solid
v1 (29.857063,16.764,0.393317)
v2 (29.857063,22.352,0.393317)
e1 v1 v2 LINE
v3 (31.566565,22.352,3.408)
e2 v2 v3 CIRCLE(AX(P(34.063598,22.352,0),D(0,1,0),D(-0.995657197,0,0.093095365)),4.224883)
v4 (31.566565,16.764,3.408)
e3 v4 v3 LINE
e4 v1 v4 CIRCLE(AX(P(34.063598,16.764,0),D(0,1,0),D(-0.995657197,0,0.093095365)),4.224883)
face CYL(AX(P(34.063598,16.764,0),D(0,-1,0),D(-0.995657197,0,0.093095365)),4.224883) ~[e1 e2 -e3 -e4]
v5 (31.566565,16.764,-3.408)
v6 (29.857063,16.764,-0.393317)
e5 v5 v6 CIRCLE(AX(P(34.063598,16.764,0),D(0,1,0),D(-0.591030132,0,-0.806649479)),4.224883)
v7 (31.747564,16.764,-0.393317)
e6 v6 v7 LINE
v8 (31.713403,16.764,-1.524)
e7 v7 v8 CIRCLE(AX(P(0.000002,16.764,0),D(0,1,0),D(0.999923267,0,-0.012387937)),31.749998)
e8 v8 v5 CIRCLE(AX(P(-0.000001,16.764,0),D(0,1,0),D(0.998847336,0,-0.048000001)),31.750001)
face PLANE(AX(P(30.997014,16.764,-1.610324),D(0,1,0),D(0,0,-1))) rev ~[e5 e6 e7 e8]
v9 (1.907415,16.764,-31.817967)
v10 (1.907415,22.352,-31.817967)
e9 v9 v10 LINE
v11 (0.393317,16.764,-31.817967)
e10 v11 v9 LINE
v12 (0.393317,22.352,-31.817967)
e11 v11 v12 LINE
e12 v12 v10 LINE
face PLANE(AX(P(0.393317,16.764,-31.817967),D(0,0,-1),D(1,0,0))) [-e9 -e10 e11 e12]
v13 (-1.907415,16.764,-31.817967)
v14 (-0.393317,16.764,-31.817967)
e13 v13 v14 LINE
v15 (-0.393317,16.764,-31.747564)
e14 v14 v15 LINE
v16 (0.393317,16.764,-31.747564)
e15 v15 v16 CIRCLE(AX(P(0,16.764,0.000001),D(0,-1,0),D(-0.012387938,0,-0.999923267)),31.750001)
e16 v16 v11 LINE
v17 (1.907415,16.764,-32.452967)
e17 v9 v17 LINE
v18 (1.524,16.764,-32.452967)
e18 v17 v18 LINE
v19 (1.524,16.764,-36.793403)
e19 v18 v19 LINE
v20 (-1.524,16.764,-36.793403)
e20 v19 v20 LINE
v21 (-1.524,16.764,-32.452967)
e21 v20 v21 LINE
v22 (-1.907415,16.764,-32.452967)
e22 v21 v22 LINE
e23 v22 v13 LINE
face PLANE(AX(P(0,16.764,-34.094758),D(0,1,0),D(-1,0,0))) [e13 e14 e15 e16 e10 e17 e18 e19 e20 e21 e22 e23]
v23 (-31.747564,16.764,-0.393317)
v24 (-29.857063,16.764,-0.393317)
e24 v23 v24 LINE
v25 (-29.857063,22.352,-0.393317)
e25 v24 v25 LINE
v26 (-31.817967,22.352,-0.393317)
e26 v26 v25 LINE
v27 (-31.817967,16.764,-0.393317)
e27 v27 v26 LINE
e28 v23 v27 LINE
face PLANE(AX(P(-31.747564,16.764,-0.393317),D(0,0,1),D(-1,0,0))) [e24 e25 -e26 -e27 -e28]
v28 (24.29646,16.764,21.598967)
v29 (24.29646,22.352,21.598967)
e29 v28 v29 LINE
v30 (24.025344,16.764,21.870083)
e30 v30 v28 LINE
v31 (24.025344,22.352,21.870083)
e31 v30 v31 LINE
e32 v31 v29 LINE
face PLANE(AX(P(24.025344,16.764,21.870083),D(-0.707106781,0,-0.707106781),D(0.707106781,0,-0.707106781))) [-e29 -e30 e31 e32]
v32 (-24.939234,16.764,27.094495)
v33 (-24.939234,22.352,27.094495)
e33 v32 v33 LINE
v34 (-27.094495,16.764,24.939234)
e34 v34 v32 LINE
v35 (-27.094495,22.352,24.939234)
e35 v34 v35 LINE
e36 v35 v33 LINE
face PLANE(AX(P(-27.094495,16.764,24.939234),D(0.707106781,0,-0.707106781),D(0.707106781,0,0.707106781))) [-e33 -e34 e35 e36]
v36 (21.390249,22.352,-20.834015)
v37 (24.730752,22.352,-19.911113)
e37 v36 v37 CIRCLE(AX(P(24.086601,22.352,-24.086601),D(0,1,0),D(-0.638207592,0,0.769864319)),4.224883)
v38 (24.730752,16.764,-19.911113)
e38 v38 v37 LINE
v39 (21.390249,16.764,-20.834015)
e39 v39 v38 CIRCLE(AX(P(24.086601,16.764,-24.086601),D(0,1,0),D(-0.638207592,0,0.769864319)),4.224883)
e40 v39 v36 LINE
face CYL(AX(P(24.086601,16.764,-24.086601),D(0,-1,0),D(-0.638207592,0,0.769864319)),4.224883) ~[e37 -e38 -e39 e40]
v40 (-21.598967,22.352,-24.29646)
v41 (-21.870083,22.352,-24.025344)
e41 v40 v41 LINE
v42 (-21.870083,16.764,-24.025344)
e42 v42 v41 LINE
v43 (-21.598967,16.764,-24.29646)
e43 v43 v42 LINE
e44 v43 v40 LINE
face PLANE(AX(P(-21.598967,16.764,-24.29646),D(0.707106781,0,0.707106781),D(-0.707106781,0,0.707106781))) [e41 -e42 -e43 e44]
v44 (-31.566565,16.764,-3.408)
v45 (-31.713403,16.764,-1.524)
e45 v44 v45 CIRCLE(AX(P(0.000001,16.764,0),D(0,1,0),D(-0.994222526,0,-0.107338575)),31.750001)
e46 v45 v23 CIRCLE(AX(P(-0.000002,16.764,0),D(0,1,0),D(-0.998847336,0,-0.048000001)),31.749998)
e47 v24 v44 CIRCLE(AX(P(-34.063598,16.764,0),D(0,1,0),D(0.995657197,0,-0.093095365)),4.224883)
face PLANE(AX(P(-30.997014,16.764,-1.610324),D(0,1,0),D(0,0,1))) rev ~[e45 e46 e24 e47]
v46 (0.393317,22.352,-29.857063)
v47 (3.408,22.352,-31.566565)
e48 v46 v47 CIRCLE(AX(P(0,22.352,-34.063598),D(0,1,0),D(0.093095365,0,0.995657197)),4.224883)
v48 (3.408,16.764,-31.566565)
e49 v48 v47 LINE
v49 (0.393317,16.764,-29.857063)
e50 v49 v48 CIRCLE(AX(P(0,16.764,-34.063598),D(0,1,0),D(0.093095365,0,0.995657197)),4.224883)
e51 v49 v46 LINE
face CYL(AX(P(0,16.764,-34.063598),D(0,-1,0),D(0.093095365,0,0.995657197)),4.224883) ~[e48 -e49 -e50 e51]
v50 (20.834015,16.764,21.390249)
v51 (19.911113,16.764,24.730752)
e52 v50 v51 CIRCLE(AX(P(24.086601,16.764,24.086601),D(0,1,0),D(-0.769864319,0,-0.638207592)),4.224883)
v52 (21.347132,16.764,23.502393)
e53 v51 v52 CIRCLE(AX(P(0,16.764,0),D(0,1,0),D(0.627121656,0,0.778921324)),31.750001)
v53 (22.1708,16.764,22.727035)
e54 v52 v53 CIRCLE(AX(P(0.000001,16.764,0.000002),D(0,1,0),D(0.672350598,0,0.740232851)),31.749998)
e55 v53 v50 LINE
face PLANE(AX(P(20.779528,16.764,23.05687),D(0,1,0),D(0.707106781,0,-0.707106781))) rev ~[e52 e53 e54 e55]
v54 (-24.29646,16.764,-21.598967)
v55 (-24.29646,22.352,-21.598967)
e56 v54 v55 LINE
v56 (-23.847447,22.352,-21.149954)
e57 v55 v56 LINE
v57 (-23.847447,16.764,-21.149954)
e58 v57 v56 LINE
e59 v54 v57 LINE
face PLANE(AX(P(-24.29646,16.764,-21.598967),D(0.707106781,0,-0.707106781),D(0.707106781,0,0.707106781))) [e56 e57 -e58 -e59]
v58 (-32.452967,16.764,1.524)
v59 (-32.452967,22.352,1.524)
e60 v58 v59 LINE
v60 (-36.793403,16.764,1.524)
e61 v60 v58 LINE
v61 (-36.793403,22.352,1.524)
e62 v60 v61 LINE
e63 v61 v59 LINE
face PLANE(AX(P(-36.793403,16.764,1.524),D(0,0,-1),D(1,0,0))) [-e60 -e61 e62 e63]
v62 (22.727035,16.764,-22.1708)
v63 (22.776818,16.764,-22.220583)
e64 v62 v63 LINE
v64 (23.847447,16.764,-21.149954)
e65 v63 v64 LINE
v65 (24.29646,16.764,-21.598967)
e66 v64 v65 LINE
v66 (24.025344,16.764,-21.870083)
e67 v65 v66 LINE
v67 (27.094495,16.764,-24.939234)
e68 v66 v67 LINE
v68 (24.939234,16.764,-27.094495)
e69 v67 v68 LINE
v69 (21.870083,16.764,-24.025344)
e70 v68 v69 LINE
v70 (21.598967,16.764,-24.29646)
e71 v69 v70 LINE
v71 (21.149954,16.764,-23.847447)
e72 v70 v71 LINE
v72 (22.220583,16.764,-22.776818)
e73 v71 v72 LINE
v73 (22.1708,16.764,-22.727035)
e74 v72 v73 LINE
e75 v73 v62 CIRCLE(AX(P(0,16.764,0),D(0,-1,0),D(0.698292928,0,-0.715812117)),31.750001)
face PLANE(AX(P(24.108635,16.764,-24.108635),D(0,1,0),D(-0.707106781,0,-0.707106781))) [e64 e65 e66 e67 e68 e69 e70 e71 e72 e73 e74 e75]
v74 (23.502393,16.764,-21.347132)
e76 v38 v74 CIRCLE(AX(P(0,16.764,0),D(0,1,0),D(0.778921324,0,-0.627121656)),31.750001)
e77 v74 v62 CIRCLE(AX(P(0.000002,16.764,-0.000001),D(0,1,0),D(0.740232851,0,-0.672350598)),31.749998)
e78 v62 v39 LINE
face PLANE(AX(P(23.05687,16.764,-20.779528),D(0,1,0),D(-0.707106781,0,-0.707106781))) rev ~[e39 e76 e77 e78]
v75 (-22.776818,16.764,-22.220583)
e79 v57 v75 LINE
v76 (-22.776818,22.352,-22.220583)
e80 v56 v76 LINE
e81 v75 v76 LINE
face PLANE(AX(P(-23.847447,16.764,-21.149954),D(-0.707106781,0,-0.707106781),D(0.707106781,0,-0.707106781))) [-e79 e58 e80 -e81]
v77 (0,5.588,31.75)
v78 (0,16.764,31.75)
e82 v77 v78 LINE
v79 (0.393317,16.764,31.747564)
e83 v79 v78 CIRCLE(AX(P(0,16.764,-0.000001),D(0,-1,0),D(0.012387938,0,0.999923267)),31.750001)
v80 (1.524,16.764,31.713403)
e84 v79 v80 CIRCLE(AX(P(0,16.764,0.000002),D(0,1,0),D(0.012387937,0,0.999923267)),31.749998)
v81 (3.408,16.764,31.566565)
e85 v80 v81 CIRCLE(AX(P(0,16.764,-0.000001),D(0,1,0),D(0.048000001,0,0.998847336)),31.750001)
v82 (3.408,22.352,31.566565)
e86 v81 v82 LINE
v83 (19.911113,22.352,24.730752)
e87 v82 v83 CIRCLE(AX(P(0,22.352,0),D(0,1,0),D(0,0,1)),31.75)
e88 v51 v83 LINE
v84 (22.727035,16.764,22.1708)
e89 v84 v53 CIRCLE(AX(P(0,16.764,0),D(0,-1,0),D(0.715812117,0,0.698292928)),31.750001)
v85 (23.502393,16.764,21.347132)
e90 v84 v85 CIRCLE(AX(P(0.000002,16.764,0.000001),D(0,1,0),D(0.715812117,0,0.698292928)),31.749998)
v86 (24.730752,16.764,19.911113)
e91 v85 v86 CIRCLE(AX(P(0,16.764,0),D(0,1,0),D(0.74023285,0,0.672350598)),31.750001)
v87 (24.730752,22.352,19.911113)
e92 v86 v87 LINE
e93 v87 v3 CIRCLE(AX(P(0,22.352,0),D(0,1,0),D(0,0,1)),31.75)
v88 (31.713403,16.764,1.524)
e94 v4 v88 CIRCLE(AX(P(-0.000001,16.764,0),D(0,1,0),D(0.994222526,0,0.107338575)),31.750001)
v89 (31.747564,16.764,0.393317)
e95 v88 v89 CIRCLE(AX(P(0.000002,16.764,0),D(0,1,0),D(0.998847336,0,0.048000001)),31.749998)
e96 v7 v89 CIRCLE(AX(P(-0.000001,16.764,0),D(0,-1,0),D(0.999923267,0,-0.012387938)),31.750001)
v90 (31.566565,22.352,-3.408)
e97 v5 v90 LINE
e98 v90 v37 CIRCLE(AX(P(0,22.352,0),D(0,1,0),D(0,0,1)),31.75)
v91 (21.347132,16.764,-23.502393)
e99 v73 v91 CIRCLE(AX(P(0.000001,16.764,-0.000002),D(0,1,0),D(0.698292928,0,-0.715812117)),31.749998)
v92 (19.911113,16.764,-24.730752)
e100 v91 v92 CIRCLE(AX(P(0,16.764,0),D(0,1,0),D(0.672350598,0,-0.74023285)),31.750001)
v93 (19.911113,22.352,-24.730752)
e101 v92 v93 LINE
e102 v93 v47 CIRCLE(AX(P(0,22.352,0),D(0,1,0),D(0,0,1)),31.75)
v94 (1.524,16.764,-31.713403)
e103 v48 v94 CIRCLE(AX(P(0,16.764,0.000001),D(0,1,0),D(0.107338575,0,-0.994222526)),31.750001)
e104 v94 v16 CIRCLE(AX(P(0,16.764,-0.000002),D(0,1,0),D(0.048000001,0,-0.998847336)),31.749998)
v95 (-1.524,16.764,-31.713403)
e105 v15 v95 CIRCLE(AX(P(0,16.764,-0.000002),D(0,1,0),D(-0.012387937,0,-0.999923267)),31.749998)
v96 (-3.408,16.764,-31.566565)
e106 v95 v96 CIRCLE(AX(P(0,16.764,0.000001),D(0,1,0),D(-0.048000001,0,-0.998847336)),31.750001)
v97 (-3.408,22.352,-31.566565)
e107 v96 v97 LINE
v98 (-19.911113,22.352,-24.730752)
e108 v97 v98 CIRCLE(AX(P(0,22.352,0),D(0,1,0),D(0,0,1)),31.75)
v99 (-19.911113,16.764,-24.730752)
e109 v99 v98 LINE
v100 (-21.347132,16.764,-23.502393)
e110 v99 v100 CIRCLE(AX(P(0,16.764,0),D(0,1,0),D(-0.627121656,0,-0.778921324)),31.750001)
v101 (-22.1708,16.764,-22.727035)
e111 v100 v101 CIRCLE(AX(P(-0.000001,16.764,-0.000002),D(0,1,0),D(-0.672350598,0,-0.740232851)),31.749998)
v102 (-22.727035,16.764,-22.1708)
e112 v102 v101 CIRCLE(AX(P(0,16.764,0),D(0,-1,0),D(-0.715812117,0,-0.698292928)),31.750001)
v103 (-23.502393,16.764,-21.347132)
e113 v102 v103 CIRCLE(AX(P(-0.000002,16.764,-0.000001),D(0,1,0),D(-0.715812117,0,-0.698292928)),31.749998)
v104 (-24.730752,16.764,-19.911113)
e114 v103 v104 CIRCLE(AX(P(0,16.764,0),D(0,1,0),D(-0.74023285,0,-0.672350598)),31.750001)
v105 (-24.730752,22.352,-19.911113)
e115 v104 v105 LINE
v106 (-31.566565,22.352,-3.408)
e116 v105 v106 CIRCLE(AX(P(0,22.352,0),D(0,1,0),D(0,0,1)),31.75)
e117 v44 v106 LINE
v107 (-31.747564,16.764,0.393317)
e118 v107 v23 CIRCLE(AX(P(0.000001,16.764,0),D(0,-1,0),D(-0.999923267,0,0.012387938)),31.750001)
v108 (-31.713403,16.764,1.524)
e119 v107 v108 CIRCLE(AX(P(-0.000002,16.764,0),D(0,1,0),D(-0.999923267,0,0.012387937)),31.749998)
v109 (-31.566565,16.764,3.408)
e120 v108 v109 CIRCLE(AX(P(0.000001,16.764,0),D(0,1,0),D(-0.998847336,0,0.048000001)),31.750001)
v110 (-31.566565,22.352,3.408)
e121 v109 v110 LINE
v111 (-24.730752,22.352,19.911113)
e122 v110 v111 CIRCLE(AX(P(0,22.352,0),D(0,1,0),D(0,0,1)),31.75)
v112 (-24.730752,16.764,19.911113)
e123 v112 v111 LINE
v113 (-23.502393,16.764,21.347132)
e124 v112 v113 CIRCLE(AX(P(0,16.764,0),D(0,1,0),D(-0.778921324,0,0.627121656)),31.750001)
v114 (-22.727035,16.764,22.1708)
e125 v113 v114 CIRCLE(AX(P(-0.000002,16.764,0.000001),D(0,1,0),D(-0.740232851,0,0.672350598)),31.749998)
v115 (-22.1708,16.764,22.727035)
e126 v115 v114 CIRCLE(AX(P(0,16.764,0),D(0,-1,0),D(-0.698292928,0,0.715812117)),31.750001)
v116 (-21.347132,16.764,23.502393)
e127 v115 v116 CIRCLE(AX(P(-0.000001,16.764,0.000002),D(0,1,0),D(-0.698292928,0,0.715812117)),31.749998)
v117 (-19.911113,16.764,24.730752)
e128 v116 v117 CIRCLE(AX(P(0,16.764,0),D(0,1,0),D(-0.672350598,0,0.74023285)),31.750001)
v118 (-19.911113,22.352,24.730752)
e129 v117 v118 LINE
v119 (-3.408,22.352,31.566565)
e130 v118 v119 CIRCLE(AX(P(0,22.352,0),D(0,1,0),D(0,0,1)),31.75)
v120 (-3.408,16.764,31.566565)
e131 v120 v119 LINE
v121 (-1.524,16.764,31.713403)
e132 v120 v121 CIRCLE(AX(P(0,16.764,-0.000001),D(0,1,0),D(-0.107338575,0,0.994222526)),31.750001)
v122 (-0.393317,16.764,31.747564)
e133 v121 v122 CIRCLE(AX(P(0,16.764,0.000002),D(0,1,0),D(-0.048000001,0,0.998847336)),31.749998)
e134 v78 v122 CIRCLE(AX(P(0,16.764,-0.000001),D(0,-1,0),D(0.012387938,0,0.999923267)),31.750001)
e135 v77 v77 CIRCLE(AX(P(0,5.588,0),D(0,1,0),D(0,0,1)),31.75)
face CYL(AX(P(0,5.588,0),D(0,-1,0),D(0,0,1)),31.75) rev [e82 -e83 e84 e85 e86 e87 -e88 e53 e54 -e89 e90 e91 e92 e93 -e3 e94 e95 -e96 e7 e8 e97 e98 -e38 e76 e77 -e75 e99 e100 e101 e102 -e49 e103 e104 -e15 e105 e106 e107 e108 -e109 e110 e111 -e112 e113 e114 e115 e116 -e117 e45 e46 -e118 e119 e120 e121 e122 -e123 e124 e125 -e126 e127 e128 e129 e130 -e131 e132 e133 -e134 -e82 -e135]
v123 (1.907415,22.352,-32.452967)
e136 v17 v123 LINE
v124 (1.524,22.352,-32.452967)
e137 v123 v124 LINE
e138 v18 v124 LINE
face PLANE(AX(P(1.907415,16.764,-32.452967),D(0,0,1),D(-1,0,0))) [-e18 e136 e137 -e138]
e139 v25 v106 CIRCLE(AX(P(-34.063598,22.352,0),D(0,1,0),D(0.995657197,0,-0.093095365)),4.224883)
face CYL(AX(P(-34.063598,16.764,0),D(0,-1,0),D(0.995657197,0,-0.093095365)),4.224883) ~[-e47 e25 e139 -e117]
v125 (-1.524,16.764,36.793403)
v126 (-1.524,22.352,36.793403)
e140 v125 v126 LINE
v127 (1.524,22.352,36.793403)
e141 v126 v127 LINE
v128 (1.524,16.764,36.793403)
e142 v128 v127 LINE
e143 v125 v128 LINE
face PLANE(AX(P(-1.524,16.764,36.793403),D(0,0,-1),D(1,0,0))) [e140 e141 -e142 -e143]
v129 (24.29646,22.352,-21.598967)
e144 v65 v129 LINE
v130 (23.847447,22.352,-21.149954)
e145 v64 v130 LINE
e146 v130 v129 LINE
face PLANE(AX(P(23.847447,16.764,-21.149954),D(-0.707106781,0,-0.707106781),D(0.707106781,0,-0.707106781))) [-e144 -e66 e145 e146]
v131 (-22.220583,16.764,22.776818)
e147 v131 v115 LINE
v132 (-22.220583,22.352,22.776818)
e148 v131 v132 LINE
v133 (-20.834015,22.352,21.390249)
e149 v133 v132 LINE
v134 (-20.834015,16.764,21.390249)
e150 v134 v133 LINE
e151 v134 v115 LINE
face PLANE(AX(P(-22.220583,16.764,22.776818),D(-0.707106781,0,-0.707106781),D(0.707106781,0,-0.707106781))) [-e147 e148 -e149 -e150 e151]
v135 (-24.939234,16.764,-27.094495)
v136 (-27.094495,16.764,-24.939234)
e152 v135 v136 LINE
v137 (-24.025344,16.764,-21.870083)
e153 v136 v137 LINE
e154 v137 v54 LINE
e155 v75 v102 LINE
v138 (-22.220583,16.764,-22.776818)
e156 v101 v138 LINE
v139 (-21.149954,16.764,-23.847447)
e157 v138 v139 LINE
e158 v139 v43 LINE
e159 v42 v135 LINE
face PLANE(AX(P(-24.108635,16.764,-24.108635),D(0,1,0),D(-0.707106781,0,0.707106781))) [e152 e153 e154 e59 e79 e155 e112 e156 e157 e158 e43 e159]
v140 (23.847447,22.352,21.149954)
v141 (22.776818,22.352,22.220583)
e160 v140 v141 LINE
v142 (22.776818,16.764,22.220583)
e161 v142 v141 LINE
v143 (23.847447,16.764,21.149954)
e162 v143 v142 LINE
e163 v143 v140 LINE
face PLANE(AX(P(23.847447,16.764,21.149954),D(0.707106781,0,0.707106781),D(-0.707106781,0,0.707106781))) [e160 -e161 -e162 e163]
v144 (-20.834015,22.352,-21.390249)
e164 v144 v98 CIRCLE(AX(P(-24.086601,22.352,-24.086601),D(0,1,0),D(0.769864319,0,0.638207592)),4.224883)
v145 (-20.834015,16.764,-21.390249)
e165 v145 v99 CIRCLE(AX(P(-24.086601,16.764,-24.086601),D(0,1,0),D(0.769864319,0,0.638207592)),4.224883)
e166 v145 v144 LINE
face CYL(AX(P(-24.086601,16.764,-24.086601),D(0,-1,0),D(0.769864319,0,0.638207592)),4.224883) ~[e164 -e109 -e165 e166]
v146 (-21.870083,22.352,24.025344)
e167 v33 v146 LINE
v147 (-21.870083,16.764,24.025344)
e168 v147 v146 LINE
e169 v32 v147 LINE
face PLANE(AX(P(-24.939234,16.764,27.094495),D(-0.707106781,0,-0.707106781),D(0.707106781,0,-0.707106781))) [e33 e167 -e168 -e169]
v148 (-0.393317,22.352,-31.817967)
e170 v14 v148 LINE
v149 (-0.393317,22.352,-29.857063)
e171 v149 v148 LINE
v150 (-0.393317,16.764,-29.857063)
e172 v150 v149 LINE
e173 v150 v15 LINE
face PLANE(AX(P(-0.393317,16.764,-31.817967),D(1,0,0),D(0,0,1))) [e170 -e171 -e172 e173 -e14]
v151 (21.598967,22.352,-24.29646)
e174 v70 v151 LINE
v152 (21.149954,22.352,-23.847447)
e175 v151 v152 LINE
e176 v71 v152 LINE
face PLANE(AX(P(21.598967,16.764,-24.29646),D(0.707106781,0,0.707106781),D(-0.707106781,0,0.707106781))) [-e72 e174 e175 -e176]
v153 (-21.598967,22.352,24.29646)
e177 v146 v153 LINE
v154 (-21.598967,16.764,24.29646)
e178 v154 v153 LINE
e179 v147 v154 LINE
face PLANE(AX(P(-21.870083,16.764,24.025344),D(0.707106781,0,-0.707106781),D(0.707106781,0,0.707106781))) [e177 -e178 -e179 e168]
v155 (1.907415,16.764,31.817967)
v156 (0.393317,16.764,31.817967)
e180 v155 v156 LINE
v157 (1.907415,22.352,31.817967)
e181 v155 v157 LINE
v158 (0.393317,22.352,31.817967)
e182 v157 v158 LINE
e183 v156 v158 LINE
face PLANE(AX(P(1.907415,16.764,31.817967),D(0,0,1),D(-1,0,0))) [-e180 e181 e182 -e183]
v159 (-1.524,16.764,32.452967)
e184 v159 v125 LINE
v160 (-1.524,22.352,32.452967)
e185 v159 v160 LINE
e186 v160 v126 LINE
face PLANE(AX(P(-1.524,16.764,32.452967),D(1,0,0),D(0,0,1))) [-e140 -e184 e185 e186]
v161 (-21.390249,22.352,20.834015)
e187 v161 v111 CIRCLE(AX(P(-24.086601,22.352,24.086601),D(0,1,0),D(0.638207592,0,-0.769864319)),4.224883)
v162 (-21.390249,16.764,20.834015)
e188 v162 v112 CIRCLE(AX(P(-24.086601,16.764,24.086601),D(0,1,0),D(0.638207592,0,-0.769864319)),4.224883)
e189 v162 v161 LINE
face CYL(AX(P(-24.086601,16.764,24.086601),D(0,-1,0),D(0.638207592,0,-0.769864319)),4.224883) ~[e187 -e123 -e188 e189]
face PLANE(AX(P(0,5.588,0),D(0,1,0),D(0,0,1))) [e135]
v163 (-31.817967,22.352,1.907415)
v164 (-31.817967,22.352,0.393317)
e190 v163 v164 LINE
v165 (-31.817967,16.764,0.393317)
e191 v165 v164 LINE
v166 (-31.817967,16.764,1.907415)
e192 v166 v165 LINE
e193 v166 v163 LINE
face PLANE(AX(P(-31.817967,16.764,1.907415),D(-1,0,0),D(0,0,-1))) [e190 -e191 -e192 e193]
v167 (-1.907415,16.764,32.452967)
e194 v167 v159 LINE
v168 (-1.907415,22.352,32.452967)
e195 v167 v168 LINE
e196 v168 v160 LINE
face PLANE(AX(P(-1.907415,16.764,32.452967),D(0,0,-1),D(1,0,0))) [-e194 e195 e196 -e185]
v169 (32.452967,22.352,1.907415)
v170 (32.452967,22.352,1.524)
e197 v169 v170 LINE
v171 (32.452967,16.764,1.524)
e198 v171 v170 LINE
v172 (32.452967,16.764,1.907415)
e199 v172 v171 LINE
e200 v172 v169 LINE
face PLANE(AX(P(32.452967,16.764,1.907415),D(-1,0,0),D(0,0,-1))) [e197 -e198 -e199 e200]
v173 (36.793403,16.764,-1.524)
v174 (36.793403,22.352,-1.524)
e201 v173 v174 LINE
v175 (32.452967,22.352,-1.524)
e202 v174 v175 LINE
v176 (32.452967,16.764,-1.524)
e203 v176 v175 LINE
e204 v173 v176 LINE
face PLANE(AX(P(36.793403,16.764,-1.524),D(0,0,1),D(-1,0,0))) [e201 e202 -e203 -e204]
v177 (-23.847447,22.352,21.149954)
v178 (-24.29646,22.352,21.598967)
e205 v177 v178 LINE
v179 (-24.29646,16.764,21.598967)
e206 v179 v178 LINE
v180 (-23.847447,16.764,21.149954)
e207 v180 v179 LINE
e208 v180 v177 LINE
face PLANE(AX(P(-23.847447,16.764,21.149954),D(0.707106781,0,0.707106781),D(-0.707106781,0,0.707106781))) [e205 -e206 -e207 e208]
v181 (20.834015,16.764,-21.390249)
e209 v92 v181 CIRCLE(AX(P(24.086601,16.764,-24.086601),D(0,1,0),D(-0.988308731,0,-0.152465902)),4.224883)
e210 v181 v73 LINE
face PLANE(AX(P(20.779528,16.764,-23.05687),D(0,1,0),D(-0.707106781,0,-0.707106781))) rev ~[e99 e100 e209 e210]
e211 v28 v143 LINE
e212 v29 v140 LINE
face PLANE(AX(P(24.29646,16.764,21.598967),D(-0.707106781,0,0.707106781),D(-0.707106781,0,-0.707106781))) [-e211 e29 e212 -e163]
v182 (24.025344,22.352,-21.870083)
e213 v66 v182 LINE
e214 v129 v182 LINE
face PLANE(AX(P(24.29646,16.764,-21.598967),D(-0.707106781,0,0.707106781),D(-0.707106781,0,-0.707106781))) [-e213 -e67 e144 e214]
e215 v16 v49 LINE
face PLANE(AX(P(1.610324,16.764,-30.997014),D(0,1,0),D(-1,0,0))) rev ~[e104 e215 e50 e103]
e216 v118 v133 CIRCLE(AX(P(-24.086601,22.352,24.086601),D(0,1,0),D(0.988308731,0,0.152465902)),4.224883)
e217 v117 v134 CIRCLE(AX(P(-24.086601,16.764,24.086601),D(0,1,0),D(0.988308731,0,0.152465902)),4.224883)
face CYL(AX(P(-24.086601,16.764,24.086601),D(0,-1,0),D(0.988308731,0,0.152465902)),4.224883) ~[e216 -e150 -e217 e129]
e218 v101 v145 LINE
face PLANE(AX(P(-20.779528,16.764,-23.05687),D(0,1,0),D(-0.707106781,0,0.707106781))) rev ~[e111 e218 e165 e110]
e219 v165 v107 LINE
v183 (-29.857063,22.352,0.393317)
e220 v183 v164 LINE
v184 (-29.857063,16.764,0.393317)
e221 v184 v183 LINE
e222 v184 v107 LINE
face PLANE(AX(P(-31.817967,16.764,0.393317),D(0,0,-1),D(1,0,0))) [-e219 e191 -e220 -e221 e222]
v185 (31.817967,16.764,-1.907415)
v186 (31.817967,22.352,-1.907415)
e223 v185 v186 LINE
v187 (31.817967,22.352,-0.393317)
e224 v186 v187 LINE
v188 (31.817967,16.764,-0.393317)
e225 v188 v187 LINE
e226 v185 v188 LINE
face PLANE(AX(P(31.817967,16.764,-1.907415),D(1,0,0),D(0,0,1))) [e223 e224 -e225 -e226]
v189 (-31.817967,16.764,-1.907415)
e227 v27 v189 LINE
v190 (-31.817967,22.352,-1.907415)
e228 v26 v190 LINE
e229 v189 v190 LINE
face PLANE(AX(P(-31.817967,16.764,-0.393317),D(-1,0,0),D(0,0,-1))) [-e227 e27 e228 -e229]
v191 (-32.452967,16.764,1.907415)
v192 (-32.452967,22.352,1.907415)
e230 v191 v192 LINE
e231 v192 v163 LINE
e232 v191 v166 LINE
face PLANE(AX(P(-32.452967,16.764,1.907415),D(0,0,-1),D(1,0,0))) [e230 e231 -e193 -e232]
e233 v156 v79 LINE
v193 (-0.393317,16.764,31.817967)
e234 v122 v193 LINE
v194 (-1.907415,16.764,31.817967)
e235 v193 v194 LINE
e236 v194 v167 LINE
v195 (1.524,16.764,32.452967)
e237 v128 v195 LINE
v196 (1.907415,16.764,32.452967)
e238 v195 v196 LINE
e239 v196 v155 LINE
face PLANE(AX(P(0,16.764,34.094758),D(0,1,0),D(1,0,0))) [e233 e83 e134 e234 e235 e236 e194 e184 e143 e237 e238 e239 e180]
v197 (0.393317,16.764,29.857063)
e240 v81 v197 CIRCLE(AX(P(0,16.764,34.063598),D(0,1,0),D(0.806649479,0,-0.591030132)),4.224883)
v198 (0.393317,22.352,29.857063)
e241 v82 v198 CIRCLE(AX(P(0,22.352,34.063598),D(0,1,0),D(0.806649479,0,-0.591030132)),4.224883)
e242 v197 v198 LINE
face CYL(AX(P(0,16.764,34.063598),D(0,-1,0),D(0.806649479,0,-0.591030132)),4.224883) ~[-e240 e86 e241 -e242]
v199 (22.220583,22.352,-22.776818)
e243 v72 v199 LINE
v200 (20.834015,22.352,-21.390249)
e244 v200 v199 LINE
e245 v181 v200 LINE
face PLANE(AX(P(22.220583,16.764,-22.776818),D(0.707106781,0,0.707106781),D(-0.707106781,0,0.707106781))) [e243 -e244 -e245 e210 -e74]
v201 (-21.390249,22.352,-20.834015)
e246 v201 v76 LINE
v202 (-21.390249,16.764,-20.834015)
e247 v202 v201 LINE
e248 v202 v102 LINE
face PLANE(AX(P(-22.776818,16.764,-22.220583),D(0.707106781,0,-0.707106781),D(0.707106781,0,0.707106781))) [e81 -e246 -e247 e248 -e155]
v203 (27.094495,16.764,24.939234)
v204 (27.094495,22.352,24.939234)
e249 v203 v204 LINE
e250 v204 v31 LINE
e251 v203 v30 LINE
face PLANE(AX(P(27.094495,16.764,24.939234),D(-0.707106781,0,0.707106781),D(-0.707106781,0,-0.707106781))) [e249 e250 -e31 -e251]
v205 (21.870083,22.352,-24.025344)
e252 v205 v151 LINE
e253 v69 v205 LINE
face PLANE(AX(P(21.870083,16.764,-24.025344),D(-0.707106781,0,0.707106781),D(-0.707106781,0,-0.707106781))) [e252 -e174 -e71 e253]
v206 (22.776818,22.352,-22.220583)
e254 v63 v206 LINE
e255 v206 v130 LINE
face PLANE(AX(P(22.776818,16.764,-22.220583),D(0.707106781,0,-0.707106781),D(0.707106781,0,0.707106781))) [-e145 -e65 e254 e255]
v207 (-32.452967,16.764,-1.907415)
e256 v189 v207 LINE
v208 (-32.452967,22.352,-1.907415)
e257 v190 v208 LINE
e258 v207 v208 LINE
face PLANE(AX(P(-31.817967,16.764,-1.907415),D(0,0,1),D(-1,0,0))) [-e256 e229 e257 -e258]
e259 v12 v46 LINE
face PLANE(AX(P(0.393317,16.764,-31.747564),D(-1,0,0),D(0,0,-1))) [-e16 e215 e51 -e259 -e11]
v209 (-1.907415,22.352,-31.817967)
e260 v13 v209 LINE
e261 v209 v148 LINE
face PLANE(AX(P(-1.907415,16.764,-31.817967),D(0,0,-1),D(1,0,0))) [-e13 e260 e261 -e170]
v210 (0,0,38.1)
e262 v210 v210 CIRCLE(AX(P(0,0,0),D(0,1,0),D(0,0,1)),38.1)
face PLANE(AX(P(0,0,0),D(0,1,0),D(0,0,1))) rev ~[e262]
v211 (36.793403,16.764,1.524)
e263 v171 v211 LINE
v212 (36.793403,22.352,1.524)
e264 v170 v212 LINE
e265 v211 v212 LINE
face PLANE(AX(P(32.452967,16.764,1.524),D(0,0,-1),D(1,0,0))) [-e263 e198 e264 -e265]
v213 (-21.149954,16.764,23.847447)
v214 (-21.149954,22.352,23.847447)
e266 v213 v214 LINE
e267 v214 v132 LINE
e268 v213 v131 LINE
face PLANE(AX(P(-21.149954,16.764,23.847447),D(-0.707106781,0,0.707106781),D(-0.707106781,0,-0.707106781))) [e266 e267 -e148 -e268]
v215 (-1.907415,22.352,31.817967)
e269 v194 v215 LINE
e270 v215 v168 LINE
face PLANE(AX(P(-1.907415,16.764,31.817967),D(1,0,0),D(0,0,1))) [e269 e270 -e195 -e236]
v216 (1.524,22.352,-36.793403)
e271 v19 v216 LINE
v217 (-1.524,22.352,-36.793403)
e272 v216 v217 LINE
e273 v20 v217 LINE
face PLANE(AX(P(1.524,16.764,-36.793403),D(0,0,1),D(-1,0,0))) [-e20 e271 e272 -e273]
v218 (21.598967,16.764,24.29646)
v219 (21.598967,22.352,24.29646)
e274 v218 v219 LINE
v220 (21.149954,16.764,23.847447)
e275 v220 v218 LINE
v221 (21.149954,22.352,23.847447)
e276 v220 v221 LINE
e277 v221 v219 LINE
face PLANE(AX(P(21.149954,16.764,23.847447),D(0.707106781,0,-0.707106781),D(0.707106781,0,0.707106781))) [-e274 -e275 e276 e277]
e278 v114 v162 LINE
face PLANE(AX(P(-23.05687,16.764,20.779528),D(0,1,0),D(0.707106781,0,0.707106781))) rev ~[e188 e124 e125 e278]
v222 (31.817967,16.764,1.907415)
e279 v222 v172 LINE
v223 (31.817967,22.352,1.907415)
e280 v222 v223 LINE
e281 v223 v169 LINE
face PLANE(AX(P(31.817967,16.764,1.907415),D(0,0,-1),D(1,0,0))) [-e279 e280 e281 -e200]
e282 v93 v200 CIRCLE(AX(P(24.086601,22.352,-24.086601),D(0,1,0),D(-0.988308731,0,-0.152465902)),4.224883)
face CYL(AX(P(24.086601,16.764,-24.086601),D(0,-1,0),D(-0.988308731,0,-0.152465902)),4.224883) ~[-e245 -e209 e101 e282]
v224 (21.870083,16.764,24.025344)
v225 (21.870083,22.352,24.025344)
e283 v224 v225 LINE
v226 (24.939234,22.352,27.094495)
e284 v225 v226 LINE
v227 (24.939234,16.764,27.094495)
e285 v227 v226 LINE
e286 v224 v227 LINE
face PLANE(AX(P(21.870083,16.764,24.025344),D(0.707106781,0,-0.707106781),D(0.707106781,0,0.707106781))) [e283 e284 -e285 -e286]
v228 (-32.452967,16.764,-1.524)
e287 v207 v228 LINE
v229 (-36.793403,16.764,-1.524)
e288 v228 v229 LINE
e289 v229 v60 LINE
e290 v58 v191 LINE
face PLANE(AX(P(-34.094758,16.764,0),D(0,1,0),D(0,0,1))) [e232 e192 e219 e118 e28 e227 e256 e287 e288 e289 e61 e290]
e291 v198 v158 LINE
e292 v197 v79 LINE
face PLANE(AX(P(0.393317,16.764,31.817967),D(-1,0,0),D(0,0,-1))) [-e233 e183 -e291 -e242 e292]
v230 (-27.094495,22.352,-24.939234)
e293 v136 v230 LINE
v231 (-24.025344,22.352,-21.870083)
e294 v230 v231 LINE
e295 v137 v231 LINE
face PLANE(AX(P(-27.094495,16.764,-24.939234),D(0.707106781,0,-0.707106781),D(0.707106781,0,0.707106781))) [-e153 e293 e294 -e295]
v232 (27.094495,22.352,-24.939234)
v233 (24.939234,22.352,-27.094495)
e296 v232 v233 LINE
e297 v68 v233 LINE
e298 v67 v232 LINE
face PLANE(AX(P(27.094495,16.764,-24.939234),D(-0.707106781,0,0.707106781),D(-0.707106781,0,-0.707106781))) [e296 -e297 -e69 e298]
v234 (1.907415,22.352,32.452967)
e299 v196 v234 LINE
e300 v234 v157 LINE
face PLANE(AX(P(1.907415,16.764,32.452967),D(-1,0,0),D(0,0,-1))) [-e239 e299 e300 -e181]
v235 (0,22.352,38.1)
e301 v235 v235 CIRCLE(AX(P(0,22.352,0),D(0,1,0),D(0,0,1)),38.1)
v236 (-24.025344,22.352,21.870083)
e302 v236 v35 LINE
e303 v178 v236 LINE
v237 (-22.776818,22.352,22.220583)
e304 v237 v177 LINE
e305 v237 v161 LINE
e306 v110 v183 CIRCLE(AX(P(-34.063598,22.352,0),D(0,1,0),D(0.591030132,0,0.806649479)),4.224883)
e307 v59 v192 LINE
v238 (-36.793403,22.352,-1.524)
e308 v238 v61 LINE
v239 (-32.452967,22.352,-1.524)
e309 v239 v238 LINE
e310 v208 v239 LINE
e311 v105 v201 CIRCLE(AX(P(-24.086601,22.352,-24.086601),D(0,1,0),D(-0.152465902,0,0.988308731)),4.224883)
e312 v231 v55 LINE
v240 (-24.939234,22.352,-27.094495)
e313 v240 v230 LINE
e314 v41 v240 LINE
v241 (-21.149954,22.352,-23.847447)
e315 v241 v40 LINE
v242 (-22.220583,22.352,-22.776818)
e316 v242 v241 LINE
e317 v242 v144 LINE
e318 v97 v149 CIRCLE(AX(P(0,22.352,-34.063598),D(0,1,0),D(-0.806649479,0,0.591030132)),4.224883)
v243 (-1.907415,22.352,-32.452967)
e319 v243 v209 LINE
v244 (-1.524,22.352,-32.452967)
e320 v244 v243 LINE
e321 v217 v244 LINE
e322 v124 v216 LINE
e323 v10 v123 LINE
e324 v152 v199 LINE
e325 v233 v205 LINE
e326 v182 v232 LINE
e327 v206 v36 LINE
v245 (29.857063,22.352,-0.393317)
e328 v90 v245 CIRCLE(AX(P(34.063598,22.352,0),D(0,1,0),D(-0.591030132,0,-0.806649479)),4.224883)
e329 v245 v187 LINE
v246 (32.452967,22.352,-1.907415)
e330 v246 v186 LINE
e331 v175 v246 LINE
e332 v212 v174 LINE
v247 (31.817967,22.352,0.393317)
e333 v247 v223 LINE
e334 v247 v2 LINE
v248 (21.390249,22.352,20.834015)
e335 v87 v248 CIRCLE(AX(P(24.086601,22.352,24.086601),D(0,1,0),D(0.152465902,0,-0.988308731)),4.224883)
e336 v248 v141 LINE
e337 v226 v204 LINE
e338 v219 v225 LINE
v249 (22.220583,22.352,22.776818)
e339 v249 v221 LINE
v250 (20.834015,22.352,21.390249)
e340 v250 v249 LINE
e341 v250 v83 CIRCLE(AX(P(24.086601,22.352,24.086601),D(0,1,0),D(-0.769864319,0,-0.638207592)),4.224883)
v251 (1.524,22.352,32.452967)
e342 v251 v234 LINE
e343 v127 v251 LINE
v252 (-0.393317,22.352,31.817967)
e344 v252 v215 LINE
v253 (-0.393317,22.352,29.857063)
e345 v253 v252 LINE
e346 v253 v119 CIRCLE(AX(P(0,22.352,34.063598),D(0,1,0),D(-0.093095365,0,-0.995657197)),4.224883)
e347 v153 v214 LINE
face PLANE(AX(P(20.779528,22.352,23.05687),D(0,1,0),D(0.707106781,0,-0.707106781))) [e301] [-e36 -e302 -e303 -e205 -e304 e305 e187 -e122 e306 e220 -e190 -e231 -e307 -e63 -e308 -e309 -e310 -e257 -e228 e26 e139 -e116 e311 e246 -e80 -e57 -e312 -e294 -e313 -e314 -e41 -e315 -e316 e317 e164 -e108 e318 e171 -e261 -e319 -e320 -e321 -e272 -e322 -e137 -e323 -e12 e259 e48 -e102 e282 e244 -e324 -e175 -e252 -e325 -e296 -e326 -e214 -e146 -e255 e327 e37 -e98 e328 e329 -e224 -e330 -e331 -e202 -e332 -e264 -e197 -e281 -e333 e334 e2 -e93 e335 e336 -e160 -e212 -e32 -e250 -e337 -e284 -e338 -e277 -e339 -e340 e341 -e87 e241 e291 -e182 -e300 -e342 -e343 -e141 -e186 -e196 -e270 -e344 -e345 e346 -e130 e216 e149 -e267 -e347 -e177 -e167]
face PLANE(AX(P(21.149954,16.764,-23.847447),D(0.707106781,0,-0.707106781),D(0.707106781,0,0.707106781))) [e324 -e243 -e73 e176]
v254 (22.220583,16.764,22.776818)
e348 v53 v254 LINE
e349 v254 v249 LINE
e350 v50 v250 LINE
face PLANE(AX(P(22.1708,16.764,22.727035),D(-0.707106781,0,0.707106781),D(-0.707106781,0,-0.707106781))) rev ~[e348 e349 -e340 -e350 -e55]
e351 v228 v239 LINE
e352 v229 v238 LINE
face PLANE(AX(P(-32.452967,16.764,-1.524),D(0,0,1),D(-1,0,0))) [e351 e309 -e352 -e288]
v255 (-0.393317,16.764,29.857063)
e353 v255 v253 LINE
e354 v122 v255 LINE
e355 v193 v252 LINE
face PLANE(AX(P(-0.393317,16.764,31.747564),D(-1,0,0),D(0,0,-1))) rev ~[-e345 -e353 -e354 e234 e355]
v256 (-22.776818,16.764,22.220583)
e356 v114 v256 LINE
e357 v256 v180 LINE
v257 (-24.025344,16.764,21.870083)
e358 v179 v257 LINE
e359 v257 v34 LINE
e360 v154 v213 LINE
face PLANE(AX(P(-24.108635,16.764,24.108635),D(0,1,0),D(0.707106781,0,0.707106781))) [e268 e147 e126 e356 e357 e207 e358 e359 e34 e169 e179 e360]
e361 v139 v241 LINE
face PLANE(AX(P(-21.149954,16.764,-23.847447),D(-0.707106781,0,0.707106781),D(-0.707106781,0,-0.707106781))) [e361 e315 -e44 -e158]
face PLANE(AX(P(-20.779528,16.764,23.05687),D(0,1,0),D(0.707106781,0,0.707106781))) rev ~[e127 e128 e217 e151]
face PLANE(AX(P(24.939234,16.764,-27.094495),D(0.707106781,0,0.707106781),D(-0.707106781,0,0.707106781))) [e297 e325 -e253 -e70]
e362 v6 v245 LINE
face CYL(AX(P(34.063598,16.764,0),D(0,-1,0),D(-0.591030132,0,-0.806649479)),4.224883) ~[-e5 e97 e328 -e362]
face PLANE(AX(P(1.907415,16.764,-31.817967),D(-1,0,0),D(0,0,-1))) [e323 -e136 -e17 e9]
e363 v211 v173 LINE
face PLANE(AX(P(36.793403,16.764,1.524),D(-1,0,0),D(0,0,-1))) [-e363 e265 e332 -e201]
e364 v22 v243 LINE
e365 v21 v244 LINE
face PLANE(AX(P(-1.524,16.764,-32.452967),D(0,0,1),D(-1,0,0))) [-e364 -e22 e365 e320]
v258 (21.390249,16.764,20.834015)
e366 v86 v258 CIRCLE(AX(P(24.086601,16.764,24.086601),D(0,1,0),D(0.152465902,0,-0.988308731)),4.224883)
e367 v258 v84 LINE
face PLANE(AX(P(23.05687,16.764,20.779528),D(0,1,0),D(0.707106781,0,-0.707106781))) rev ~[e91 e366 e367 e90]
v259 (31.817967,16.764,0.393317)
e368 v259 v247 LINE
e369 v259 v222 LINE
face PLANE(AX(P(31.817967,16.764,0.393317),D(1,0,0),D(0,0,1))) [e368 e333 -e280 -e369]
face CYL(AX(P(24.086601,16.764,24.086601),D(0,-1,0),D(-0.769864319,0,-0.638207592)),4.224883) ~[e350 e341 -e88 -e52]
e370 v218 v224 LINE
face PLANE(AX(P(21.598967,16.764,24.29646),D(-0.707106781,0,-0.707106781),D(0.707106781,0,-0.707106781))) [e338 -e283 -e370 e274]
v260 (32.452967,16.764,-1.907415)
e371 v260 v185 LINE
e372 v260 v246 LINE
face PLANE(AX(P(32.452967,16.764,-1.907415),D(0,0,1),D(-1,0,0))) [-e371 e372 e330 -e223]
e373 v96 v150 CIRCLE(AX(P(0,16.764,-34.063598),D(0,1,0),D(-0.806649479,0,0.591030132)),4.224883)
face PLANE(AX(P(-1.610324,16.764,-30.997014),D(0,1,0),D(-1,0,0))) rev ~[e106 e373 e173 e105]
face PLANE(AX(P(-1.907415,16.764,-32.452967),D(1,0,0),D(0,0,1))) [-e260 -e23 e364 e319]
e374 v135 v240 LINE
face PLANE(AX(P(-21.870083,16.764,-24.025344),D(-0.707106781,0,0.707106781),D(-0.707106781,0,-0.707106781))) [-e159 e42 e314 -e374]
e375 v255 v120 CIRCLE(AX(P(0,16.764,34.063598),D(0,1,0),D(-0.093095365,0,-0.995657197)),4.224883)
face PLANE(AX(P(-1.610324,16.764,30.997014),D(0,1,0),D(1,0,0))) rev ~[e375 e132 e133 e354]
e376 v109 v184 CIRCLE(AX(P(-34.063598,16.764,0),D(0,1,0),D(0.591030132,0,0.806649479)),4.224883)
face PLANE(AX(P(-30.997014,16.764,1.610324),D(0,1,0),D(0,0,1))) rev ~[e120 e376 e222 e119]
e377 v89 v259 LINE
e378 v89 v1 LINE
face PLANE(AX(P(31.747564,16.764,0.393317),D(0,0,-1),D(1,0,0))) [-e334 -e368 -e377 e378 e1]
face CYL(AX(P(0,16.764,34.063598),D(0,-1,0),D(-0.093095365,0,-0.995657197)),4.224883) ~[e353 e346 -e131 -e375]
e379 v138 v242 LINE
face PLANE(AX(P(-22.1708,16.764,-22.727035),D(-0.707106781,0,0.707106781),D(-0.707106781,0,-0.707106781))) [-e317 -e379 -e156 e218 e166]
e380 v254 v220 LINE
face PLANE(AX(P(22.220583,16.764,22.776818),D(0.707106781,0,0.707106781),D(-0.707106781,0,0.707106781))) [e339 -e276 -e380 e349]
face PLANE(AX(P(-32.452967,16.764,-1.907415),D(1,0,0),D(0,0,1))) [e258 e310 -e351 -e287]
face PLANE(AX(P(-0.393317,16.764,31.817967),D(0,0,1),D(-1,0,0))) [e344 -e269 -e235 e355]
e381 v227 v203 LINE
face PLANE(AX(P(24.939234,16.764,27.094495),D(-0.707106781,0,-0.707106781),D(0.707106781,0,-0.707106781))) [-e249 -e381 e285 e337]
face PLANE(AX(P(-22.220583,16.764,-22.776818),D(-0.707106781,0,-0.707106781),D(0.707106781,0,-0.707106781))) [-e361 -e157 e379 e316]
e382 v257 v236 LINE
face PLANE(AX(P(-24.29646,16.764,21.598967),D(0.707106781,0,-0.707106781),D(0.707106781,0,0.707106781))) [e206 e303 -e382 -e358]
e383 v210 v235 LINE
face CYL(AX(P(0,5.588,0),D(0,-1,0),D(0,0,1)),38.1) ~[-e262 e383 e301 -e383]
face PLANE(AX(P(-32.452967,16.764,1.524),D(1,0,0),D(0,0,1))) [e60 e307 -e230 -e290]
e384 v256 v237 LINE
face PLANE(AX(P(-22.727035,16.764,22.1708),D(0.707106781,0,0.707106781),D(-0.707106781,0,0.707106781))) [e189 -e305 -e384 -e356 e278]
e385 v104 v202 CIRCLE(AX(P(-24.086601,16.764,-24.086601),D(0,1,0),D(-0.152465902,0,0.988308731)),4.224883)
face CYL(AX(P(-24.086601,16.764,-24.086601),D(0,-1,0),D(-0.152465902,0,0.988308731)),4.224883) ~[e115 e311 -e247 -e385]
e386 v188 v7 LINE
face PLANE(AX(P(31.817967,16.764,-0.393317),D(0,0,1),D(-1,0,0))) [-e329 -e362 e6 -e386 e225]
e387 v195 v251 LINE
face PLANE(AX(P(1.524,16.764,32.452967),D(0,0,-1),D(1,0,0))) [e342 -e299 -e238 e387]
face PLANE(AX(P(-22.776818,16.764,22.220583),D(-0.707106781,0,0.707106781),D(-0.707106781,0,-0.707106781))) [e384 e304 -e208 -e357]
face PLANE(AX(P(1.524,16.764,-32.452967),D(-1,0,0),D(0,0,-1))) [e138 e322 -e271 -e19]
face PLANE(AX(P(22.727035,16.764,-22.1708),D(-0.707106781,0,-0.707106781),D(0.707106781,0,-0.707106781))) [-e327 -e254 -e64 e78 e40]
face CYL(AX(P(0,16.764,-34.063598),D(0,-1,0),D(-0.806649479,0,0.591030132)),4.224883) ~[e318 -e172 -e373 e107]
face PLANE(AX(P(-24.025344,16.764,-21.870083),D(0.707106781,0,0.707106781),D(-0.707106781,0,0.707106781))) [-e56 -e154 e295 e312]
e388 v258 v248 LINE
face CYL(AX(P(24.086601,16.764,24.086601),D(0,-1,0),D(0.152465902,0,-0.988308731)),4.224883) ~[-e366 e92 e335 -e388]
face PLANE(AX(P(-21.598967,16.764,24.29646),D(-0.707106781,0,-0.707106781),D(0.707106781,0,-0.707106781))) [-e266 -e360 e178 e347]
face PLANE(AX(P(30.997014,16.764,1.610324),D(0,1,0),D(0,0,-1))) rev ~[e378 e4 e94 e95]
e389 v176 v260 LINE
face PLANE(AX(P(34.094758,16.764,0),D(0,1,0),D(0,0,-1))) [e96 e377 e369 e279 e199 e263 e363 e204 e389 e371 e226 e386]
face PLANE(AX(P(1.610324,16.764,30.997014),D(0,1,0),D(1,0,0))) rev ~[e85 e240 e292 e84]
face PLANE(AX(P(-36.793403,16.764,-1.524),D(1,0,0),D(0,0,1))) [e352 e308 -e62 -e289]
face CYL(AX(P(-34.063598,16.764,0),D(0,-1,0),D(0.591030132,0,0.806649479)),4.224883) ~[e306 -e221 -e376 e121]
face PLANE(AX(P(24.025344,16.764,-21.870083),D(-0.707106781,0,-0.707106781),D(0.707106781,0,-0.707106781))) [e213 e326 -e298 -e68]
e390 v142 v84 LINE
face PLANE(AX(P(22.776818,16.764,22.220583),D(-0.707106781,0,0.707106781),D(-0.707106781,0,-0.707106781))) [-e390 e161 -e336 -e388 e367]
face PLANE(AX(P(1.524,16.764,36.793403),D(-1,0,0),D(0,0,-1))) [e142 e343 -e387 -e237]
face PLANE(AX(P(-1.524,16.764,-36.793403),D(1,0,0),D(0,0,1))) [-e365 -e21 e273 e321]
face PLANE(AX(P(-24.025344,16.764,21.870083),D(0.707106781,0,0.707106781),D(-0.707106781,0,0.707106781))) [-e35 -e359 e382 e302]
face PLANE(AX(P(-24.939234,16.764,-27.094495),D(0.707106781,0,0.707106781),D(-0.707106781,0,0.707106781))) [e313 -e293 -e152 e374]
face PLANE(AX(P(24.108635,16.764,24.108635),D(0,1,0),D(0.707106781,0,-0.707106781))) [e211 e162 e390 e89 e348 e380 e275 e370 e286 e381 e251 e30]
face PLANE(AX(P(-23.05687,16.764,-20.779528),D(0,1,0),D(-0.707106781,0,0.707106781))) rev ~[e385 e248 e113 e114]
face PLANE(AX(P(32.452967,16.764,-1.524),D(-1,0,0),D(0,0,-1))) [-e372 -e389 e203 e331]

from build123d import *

# Parameters (mm, degrees)
SKETCH1_R           = 38.1
BOSS_EXTRUDE1_DEPTH = 5.588
SKETCH5_R           = 38.1
SKETCH5_R_2         = 31.75
BOSS_EXTRUDE3_DEPTH = 16.764
CUT_EXTRUDE2_START  = -5.588
CUT_EXTRUDE2_DEPTH  = 5.588
BOSS_EXTRUDE4_START = -5.588
BOSS_EXTRUDE4_DEPTH = 5.588
CIRPATTERN1_COUNT   = 8


with BuildPart() as part:
    # Sketch1 → Boss-Extrude1 (new body)
    with BuildSketch(Plane(origin=(0, 0, 0), x_dir=(1, 0, 0), z_dir=(0, 1, 0))):
        Circle(SKETCH1_R)
    extrude(amount=BOSS_EXTRUDE1_DEPTH)

    # Sketch5 → Boss-Extrude3 (add)
    with BuildSketch(Plane(origin=(0, 5.588, 0), x_dir=(1, 0, 0), z_dir=(0, 1, 0))):
        Circle(SKETCH5_R)
        Circle(SKETCH5_R_2, mode=Mode.SUBTRACT)
    extrude(amount=BOSS_EXTRUDE3_DEPTH)

    # Sketch6 → Cut-Extrude2 (cut)
    with BuildSketch(Plane(origin=(0, 22.352, 0), x_dir=(1, 0, 0), z_dir=(0, 1, 0)).offset(CUT_EXTRUDE2_START)):
        with BuildLine():
            Line((-1.524, -32.452967385), (-1.524, -36.793402908))
            Line((-1.524, -36.793402908), (1.524, -36.793402908))
            Line((1.524, -36.793402908), (1.524, -32.452967385))
            Line((1.524, -32.452967385), (1.907415329, -32.452967385))
            Line((1.907415329, -32.452967385), (1.907415329, -31.817967385))
            Line((1.907415329, -31.817967385), (0.393317037, -31.817967385))
            Line((0.393317037, -31.817967385), (0.393317037, -31.747563713))
            ThreePointArc((0.393317037, -31.747563713), (0, -31.75), (-0.393317037, -31.747563713))
            Line((-0.393317037, -31.747563713), (-0.393317037, -31.817967385))
            Line((-0.393317037, -31.817967385), (-1.907415329, -31.817967385))
            Line((-1.907415329, -31.817967385), (-1.907415329, -32.452967385))
            Line((-1.907415329, -32.452967385), (-1.524, -32.452967385))
        make_face()
    cut_extrude2 = extrude(amount=CUT_EXTRUDE2_DEPTH, mode=Mode.SUBTRACT)

    # Sketch6<4> → Boss-Extrude4 (add)
    with BuildSketch(Plane(origin=(0, 22.352, 0), x_dir=(1, 0, 0), z_dir=(0, 1, 0)).offset(BOSS_EXTRUDE4_START)):
        with BuildLine():
            ThreePointArc((-3.407999769, -31.566565185), (-1.90281173, -31.69292993), (-0.393317037, -31.747563713))
            Line((-0.393317037, -31.747563713), (-0.393317037, -29.857063133))
            ThreePointArc((-0.393317037, -29.857063133), (-2.08401096, -30.388474513), (-3.407999769, -31.566565185))
        make_face()
        with BuildLine():
            ThreePointArc((0.393317037, -31.747563713), (1.90281173, -31.69292993), (3.407999769, -31.566565185))
            ThreePointArc((3.407999769, -31.566565185), (2.08401096, -30.388474513), (0.393317037, -29.857063133))
            Line((0.393317037, -29.857063133), (0.393317037, -31.747563713))
        make_face()
    boss_extrude4 = extrude(amount=BOSS_EXTRUDE4_DEPTH)

    # CirPattern1: Cut-Extrude2, Boss-Extrude4 ×8 about axis
    cirpattern1_axis = Axis((0, 22.352, 0), (0, 1, 0))
    add([cut_extrude2.rotate(cirpattern1_axis, i * 360 / CIRPATTERN1_COUNT) for i in range(1, CIRPATTERN1_COUNT)], mode=Mode.SUBTRACT)
    add([boss_extrude4.rotate(cirpattern1_axis, i * 360 / CIRPATTERN1_COUNT) for i in range(1, CIRPATTERN1_COUNT)])


solid = part.part
